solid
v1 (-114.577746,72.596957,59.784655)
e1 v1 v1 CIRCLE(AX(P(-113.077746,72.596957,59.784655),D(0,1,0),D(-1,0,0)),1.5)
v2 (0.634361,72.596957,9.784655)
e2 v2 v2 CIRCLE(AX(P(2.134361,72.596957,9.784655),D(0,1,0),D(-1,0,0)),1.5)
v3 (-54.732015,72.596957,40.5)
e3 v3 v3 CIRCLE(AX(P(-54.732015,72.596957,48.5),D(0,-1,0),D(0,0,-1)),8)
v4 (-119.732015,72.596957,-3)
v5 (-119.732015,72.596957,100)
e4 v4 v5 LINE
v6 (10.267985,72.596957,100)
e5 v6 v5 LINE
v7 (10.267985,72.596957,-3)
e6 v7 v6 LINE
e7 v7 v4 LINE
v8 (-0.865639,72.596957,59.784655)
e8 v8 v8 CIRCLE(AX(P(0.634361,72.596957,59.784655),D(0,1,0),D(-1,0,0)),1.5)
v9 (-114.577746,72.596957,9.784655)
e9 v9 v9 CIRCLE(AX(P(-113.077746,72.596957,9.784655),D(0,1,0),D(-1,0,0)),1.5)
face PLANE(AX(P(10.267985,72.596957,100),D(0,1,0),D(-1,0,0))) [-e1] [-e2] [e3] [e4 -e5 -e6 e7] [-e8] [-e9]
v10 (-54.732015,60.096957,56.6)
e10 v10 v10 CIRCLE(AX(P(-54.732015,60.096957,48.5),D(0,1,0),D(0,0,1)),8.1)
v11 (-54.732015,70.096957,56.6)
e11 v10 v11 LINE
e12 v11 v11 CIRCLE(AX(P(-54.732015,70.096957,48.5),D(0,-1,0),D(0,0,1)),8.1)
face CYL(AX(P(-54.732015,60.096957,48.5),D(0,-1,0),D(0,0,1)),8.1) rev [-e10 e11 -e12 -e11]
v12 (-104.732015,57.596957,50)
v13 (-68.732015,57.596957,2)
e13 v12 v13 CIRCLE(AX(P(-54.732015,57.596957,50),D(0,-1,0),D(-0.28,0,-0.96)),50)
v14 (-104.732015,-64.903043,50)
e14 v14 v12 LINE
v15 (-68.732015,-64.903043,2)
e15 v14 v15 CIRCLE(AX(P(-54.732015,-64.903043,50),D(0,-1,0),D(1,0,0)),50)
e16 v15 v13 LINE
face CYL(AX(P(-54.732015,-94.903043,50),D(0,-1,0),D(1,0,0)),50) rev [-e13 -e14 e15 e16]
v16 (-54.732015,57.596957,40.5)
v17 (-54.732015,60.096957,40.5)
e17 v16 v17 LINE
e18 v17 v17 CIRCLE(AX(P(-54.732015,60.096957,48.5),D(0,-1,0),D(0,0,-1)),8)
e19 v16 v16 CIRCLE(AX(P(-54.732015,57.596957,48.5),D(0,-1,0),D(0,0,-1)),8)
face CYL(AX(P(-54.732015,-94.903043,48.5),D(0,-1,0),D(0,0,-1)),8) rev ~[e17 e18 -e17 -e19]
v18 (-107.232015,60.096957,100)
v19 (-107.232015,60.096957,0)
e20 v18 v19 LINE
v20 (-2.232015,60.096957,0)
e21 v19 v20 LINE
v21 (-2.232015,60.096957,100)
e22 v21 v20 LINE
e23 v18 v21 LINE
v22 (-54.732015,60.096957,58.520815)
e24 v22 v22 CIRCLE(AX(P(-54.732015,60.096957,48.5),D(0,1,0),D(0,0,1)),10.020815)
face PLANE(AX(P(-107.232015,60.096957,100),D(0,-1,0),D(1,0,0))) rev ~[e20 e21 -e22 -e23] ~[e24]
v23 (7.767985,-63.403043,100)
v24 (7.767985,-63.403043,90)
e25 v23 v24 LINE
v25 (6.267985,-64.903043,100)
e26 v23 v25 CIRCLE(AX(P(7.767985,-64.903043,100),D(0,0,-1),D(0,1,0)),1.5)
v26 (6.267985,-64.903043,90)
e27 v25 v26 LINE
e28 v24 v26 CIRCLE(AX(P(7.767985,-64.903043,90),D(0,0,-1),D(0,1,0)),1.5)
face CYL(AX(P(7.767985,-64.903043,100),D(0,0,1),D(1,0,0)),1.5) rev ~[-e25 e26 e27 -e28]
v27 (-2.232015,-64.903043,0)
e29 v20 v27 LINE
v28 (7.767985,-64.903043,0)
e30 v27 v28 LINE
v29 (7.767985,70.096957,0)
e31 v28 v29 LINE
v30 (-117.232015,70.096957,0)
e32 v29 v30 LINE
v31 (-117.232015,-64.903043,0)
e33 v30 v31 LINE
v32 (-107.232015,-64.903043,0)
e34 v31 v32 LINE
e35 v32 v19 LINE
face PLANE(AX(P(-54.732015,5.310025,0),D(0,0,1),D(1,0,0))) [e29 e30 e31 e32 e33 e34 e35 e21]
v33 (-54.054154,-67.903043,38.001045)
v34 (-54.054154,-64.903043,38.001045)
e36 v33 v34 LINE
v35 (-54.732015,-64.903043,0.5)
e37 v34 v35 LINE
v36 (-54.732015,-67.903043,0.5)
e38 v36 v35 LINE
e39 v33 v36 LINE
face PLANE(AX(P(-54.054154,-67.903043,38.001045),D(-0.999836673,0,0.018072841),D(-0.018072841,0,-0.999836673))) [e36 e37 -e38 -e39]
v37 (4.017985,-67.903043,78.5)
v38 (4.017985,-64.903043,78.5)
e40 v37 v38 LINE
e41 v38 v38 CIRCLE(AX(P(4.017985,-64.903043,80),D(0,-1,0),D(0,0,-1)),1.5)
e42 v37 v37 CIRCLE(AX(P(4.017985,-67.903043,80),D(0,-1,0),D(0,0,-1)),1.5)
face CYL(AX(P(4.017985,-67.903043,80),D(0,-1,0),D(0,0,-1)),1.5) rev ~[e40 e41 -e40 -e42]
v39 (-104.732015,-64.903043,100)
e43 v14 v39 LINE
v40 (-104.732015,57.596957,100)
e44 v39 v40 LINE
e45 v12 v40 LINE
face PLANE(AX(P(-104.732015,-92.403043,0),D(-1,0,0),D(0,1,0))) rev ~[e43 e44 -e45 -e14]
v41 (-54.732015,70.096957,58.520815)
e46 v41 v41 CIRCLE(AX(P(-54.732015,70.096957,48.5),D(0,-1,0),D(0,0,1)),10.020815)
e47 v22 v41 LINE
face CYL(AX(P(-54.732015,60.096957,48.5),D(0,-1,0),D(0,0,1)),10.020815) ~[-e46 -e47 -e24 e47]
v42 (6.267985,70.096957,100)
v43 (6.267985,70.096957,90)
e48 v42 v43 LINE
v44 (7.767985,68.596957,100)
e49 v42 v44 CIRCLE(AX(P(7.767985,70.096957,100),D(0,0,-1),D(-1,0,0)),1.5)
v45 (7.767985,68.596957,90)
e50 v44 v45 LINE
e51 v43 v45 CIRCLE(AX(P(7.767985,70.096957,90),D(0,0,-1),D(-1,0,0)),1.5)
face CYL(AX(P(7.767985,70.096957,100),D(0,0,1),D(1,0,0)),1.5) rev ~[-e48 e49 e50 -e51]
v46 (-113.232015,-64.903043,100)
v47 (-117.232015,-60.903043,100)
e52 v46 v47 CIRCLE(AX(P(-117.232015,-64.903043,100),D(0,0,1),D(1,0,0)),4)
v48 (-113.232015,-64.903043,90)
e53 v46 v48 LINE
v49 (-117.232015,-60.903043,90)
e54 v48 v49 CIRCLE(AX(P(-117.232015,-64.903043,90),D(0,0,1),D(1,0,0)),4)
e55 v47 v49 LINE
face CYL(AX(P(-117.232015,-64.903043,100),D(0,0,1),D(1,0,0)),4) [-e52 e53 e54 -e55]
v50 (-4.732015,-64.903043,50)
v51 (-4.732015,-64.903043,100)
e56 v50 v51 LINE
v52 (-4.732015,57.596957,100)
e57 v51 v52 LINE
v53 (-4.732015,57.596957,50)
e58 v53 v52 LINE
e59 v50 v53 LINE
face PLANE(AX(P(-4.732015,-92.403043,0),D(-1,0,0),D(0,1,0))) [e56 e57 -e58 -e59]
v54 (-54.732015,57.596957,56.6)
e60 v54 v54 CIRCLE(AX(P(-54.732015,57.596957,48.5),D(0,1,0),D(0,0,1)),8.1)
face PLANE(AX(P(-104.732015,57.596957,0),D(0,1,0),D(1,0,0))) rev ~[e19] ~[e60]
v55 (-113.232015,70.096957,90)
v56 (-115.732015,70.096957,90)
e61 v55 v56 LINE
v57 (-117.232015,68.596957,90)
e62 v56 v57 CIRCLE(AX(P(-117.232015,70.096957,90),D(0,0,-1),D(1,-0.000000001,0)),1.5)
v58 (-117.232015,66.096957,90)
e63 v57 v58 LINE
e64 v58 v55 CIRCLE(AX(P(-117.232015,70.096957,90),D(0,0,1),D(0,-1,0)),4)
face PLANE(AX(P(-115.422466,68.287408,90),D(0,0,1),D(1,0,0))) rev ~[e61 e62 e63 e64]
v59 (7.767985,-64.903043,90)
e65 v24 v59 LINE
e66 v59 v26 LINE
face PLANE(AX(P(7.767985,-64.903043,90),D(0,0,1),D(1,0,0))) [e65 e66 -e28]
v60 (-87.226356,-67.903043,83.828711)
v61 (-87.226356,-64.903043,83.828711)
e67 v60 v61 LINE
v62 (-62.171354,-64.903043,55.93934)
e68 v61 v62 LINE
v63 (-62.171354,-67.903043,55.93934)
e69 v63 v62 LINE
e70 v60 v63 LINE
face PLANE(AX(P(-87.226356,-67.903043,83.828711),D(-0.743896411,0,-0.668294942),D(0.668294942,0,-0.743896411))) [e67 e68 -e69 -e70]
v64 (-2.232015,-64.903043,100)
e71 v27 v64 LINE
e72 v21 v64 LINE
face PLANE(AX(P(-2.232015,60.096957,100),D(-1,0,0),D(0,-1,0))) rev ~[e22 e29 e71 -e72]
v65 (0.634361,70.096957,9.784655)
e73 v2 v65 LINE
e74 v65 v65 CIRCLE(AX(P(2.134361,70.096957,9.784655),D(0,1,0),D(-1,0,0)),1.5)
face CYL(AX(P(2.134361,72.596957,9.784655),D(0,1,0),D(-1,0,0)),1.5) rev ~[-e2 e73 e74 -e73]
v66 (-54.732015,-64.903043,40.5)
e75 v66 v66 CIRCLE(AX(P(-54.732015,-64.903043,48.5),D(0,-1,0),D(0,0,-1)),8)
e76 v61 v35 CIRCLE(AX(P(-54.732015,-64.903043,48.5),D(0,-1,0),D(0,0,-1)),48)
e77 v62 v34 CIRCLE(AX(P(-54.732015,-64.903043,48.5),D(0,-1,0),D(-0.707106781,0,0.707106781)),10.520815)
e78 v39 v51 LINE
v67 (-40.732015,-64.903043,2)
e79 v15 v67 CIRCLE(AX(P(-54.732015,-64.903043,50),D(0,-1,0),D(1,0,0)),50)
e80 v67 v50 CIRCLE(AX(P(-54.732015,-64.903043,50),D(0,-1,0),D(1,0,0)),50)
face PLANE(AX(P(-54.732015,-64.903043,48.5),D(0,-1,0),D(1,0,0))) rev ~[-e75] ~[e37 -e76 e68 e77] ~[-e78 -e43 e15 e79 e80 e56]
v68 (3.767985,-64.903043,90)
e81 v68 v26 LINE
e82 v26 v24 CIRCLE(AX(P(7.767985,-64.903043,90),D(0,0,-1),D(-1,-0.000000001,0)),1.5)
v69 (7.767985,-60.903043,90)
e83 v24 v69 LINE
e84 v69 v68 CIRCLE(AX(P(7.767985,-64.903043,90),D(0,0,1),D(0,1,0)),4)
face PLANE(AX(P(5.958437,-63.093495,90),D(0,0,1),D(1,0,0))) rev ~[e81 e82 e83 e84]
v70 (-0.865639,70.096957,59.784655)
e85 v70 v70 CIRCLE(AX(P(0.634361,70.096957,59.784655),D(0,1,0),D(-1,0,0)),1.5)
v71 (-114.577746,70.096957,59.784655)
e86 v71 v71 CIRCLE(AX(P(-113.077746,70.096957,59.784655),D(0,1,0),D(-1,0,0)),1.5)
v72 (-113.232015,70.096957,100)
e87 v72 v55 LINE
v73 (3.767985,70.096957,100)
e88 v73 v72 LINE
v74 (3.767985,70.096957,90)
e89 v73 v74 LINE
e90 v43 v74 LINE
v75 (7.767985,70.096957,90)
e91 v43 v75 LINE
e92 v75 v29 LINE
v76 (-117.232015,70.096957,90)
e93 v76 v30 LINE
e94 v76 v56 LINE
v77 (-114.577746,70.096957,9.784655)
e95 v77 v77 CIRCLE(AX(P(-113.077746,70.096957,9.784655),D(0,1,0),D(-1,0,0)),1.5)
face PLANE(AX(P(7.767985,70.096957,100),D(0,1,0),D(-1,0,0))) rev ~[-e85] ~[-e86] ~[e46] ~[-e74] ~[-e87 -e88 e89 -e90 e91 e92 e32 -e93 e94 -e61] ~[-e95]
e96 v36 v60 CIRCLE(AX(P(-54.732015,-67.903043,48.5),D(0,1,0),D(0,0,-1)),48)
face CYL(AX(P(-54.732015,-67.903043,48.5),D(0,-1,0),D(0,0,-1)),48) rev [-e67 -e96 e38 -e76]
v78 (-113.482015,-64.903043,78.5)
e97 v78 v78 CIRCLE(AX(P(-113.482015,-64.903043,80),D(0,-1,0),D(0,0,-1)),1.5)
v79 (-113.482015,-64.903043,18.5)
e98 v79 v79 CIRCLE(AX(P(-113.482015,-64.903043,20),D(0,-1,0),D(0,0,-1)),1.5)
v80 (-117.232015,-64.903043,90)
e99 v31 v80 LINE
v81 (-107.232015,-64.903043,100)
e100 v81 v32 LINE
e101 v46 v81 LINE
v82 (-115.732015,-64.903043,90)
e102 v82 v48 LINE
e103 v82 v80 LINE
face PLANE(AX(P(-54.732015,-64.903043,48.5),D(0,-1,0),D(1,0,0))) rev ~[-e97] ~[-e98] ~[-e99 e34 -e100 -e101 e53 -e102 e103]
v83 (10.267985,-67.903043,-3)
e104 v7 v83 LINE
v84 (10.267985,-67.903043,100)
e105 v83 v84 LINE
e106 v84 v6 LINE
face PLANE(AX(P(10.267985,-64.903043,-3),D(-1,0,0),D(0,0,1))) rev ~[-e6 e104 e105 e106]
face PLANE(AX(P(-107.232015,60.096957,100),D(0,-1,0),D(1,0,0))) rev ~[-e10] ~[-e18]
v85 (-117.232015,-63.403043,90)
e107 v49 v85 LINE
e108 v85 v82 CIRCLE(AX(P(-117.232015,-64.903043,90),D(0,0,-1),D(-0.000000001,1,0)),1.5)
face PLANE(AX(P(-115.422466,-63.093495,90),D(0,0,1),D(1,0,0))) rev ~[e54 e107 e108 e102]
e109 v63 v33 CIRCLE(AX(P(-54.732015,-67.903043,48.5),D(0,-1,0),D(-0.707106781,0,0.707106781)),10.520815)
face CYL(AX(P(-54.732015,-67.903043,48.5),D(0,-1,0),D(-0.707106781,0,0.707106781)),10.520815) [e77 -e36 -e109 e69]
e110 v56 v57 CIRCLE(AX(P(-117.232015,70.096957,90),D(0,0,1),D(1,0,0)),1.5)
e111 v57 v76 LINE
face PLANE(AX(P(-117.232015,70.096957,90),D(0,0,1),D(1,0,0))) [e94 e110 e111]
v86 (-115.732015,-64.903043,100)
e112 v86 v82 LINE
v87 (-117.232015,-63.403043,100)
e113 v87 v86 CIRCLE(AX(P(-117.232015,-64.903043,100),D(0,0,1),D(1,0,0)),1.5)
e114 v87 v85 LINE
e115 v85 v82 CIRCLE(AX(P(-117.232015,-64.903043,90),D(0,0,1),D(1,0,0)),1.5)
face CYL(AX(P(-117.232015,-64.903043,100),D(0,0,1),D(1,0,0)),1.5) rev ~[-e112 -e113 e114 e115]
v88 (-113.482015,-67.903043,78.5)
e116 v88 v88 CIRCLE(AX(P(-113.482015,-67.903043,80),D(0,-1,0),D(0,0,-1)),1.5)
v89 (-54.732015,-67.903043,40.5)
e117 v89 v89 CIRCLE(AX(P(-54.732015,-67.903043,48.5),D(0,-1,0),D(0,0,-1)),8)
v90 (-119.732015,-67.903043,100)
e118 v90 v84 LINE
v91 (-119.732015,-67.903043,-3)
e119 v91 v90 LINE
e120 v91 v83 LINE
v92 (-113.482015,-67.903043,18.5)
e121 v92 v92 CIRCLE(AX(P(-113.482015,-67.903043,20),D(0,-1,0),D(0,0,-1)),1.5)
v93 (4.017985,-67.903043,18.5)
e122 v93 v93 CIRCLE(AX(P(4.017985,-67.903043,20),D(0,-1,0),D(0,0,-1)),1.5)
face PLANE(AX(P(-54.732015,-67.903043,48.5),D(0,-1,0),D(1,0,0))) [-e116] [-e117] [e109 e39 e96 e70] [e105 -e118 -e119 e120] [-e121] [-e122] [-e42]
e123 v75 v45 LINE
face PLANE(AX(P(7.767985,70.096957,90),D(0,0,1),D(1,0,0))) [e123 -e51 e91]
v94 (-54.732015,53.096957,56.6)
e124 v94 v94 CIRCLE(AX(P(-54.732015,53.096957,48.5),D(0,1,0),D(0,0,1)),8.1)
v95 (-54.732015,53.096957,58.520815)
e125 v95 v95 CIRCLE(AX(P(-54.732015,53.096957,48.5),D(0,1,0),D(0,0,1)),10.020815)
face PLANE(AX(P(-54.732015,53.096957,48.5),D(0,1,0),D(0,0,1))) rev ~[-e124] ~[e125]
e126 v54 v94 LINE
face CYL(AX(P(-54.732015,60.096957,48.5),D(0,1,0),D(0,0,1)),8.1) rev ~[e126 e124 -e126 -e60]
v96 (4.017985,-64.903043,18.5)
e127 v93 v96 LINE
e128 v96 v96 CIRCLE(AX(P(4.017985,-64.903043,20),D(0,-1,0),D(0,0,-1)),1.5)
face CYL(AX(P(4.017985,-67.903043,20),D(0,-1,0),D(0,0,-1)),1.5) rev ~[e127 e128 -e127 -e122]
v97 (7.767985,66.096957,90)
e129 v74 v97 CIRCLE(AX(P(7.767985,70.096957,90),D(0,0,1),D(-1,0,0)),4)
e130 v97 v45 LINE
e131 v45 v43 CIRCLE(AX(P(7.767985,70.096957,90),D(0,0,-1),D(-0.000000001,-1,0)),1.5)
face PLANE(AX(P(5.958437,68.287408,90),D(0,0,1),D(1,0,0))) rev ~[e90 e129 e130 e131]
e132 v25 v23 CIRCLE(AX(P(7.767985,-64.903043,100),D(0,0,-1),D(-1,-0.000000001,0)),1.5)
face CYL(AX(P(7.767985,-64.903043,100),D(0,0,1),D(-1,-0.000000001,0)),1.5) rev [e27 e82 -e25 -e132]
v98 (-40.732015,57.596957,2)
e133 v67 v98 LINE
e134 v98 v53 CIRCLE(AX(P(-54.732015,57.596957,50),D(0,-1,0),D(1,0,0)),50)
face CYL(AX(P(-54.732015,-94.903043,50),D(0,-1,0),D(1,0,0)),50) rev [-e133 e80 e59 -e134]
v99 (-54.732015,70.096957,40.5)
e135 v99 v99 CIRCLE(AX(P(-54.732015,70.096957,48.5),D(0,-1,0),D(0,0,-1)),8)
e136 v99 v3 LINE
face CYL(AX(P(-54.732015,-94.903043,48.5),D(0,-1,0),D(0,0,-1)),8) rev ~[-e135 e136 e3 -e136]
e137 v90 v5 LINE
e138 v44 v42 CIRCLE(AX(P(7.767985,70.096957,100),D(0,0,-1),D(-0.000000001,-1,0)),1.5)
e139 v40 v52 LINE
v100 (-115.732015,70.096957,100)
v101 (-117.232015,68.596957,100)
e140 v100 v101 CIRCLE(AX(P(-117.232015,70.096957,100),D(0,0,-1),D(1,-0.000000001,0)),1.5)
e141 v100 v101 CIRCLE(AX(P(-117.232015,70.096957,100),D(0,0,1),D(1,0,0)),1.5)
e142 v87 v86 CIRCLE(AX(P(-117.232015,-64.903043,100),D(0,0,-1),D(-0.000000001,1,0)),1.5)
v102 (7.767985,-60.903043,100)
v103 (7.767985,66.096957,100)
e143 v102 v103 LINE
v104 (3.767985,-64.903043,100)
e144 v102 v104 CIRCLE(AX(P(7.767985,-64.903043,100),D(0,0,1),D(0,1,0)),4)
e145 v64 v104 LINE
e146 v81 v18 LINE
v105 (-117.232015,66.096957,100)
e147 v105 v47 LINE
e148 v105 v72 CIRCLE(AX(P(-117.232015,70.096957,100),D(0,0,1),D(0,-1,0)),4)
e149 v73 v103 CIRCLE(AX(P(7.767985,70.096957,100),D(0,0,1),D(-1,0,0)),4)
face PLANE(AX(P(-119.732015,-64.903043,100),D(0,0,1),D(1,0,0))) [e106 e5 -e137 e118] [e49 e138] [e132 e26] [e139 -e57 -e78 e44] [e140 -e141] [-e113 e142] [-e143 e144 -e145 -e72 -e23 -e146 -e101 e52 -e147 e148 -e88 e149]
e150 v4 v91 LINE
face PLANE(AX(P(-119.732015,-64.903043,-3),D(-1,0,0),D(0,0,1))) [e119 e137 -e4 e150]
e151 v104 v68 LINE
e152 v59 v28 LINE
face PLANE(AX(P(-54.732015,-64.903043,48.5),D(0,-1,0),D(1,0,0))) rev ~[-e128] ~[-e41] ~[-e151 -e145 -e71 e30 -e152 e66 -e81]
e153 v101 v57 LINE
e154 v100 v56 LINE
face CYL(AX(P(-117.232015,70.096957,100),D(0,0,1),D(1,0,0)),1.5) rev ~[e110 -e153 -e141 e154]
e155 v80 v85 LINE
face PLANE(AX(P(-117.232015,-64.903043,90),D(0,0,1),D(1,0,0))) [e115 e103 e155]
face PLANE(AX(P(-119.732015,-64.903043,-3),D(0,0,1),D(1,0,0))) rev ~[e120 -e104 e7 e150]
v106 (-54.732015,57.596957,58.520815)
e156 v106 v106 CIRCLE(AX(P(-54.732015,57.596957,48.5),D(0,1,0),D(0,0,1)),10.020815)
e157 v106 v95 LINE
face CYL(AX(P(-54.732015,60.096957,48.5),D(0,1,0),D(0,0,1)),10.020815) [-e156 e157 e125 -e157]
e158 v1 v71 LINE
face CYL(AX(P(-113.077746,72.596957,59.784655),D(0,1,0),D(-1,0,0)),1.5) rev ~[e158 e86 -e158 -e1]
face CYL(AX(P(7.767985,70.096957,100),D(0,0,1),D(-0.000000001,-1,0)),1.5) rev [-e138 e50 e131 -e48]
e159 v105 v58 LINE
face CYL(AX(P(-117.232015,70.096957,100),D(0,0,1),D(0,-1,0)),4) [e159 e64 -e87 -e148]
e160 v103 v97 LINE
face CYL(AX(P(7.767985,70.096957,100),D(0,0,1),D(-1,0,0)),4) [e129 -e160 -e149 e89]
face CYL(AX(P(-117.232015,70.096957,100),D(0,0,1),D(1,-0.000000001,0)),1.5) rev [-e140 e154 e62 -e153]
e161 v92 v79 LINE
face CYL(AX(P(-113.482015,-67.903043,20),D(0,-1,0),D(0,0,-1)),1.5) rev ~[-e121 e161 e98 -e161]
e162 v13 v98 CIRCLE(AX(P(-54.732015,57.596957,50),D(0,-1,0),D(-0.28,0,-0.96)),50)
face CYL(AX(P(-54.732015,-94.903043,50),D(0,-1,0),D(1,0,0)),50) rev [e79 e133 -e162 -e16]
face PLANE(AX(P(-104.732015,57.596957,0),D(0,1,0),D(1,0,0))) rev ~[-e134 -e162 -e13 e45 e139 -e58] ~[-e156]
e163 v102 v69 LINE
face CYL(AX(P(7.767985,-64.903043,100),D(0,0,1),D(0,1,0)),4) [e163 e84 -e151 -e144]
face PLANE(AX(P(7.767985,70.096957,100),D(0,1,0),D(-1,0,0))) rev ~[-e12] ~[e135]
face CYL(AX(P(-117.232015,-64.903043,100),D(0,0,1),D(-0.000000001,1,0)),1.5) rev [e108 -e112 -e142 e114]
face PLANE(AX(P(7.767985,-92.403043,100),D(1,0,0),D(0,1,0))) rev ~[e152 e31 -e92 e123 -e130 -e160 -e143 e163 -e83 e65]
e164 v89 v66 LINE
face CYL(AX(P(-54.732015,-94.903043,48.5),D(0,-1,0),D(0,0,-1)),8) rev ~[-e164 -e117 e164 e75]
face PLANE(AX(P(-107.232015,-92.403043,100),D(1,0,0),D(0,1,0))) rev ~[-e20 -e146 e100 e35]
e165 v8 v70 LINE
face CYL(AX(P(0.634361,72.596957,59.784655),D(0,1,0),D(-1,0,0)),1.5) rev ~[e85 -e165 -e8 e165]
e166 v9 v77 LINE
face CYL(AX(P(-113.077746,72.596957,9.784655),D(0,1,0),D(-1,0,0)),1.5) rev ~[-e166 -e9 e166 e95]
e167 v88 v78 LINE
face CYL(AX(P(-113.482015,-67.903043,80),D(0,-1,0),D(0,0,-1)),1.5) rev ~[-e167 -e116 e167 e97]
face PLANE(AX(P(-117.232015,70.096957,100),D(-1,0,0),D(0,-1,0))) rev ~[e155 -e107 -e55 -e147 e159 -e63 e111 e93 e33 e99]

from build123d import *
from build123d.topology import SkipClean

# Parameters (mm, degrees)
BOSS_EXTRUDE2_DEPTH              = 2
BOSS_EXTRUDE2_DEPTH_BACK         = 3
SKETCH1_W                        = 105
SKETCH1_H                        = 155
SKETCH1_5_W                      = 105
SKETCH1_5_H                      = 155
SKETCH1_5_W_2                    = 100
SKETCH1_5_H_2                    = 150
BOSS_EXTRUDE3_DEPTH              = 100
BOSS_EXTRUDE5_DEPTH              = 153
CUT_EXTRUDE1_DEPTH               = 152.5
BOSS_EXTRUDE6_DEPTH              = 2.5
SKETCH5_R                        = 8
CUT_EXTRUDE2_DEPTH               = 162.5
BOSS_EXTRUDE12_DEPTH             = 3
BOSS_EXTRUDE13_DEPTH             = 103
BOSS_EXTRUDE14_DEPTH             = 3
CUT_EXTRUDE7_DEPTH               = 3
SKETCH15_W                       = 130
SKETCH15_H                       = 103
CUT_EXTRUDE8_DEPTH               = 30
SKETCH16_W                       = 130
SKETCH16_H                       = 103
BOSS_EXTRUDE15_DEPTH             = 3
SKETCH5_2_R                      = 8
CUT_EXTRUDE9_DEPTH               = 222
SKETCH18_R                       = 1.5
CUT_EXTRUDE11_DEPTH              = 5
BOSS_EXTRUDE17_REACH             = 203.791
SKETCH19_R                       = 10.02081528
SKETCH19_R_2                     = 8.1
BOSS_EXTRUDE17_DIRECTION_2_DEPTH = 7
SKETCH21_R                       = 1.5
CUT_EXTRUDE13_DEPTH              = 4
BOSS_EXTRUDE19_DEPTH             = 10
SKETCH22_3_R                     = 1.5
CUT_EXTRUDE14_DEPTH              = 10
CUT_EXTRUDE15_DEPTH              = 10


with BuildPart() as part:
    # Sketch1 → Boss-Extrude2 (new, two sides: drawn at the far end of the back side and taken through both)
    with BuildSketch(Plane.XY.offset(-BOSS_EXTRUDE2_DEPTH_BACK)):
        with Locations((-54.732014652, -17.403043174)):
            Rectangle(SKETCH1_W, SKETCH1_H)
    extrude(amount=BOSS_EXTRUDE2_DEPTH + BOSS_EXTRUDE2_DEPTH_BACK)

    # Sketch1<5> → Boss-Extrude3 (add)
    with BuildSketch(Plane.XY):
        with Locations((-54.732014652, -17.403043174)):
            Rectangle(SKETCH1_5_W, SKETCH1_5_H)
        with Locations((-54.732014652, -17.403043174)):
            Rectangle(SKETCH1_5_W_2, SKETCH1_5_H_2, mode=Mode.SUBTRACT)
    extrude(amount=BOSS_EXTRUDE3_DEPTH)

    # Sketch4 → Boss-Extrude5 (add)
    with BuildSketch(Plane.XZ.offset(94.903043174)):
        with BuildLine():
            ThreePointArc((-4.732014652, 50), (-14.732014652, 20), (-40.732014652, 2))
            Line((-40.732014652, 2), (-4.732014652, 2))
            Line((-4.732014652, 2), (-4.732014652, 50))
        make_face()
        with BuildLine():
            ThreePointArc((-68.732014652, 2), (-94.732014652, 20), (-104.732014652, 50))
            Line((-104.732014652, 50), (-104.732014652, 2))
            Line((-104.732014652, 2), (-68.732014652, 2))
        make_face()
    extrude(amount=-BOSS_EXTRUDE5_DEPTH)

    # Sketch4<3> → Cut-Extrude1 (cut)
    with SkipClean():  # the faces are left unmerged after this step: merging them gives an invalid solid
        with BuildSketch(Plane.XZ.offset(94.903043174)):
            with BuildLine():
                Line((-40.732014652, 2), (-68.732014652, 2))
                ThreePointArc((-68.732014652, 2), (-54.732014652, 0), (-40.732014652, 2))
            make_face()
        extrude(amount=-CUT_EXTRUDE1_DEPTH, mode=Mode.SUBTRACT)

    # Sketch4<4> → Boss-Extrude6 (add)
    with BuildSketch(Plane.XZ.offset(94.903043174)):
        with BuildLine():
            Line((-40.732014652, 2), (-68.732014652, 2))
            ThreePointArc((-68.732014652, 2), (-54.732014652, 0), (-40.732014652, 2))
        make_face()
    extrude(amount=-BOSS_EXTRUDE6_DEPTH)

    # Sketch5 → Cut-Extrude2 (cut)
    with BuildSketch(Plane.XZ.offset(94.903043174)):
        with Locations(Location((-54.732014652, 48.5, 0), (0, 0, 270))):
            Circle(SKETCH5_R)
    extrude(amount=-CUT_EXTRUDE2_DEPTH, mode=Mode.SUBTRACT)

    # Sketch13 → Boss-Extrude12 (add)
    with BuildSketch(Plane.XY.offset(100)):
        Polygon((-117.232014652, 70.096956826), (7.767985348, 70.096956826), (7.767985348, -92.403043174), (-2.232014652, -92.403043174), (-2.232014652, -94.903043174), (7.767985348, -94.903043174), (10.267985348, -94.903043174), (10.267985348, 72.596956826), (-119.732014652, 72.596956826), (-119.732014652, -94.903043174), (-117.232014652, -94.903043174), (-107.232014652, -94.903043174), (-107.232014652, -92.403043174), (-117.232014652, -92.403043174), align=None)
        Polygon((7.767985348, -92.403043174), (7.767985348, 70.096956826), (-117.232014652, 70.096956826), (-117.232014652, -92.403043174), (-107.232014652, -92.403043174), (-107.232014652, 60.096956826), (-2.232014652, 60.096956826), (-2.232014652, -92.403043174), align=None)
    extrude(amount=-BOSS_EXTRUDE12_DEPTH)

    # Sketch13<4> → Boss-Extrude13 (add)
    with BuildSketch(Plane.XY.offset(100)):
        Polygon((-117.232014652, 70.096956826), (7.767985348, 70.096956826), (7.767985348, -92.403043174), (-2.232014652, -92.403043174), (-2.232014652, -94.903043174), (7.767985348, -94.903043174), (10.267985348, -94.903043174), (10.267985348, 72.596956826), (-119.732014652, 72.596956826), (-119.732014652, -94.903043174), (-117.232014652, -94.903043174), (-107.232014652, -94.903043174), (-107.232014652, -92.403043174), (-117.232014652, -92.403043174), align=None)
    extrude(amount=-BOSS_EXTRUDE13_DEPTH)

    # Sketch14 → Boss-Extrude14 (add)
    with BuildSketch(Plane(origin=(0, 0, -3), x_dir=(-1, 0, 0), z_dir=(0, 0, -1))):
        Polygon((117.232014652, -92.403043174), (107.232014652, -92.403043174), (107.232014652, 60.096956826), (2.232014652, 60.096956826), (2.232014652, -92.403043174), (-7.767985348, -92.403043174), (-7.767985348, 70.096956826), (117.232014652, 70.096956826), align=None)
    extrude(amount=-BOSS_EXTRUDE14_DEPTH)

    # Sketch13<5> → Cut-Extrude7 (cut)
    with BuildSketch(Plane.XY.offset(100)):
        Polygon((7.767985348, -92.403043174), (7.767985348, 70.096956826), (-117.232014652, 70.096956826), (-117.232014652, -92.403043174), (-107.232014652, -92.403043174), (-107.232014652, 60.096956826), (-2.232014652, 60.096956826), (-2.232014652, -92.403043174), align=None)
    extrude(amount=-CUT_EXTRUDE7_DEPTH, mode=Mode.SUBTRACT)

    # Sketch15 → Cut-Extrude8 (cut)
    with BuildSketch(Plane.XZ.offset(94.903043174)):
        with Locations((-54.732014652, 48.5)):
            Rectangle(SKETCH15_W, SKETCH15_H)
    extrude(amount=-CUT_EXTRUDE8_DEPTH, mode=Mode.SUBTRACT)

    # Sketch16 → Boss-Extrude15 (add)
    with BuildSketch(Plane.XZ.offset(64.903043174)):
        with Locations((-54.732014652, 48.5)):
            Rectangle(SKETCH16_W, SKETCH16_H)
    extrude(amount=BOSS_EXTRUDE15_DEPTH)

    # Sketch5<2> → Cut-Extrude9 (cut)
    with BuildSketch(Plane.XZ.offset(94.903043174)):
        with Locations(Location((-54.732014652, 48.5, 0), (0, 0, 270))):
            Circle(SKETCH5_2_R)
    extrude(amount=-CUT_EXTRUDE9_DEPTH, mode=Mode.SUBTRACT)

    # Sketch18 → Cut-Extrude11 (cut)
    with BuildSketch(Plane.XZ.offset(67.903043174)):
        with Locations(Location((4.017985348, 80, 0), (0, 0, 270))):
            Circle(SKETCH18_R)
        with Locations(Location((4.017985348, 20, 0), (0, 0, 270))):
            Circle(SKETCH18_R)
        with Locations(Location((-113.482014652, 20, 0), (0, 0, 270))):
            Circle(SKETCH18_R)
        with Locations(Location((-113.482014652, 80, 0), (0, 0, 270))):
            Circle(SKETCH18_R)
    extrude(amount=-CUT_EXTRUDE11_DEPTH, mode=Mode.SUBTRACT)

    # Boss-Extrude17: up to this face of the body (flat: up to its plane)
    boss_extrude17_end = Plane(part.part.faces().sort_by_distance((-118.073430919, 72.596956826, 48.5))[0])
    # Sketch19 → Boss-Extrude17 (add, up to the picked face)
    with BuildSketch(Plane(origin=(0, 60.096956826, 0), x_dir=(1, 0, 0), z_dir=(0, 1, 0)), mode=Mode.PRIVATE) as boss_extrude17_sk1:
        with Locations(Location((-54.732014652, -48.5, 0), (0, 0, 270))):
            Circle(SKETCH19_R)
        with Locations(Location((-54.732014652, -48.5, 0), (0, 0, 270))):
            Circle(SKETCH19_R_2, mode=Mode.SUBTRACT)
    boss_extrude17_tool1 = split(extrude(boss_extrude17_sk1.sketch, amount=BOSS_EXTRUDE17_REACH, mode=Mode.PRIVATE), bisect_by=boss_extrude17_end, keep=Keep.BOTH, mode=Mode.PRIVATE)
    add(boss_extrude17_tool1.solids().sort_by(Axis((-54.732015, 60.096957, 38.762616), (0, 1, 0)))[0])

    # Sketch19 → Boss-Extrude17 direction 2 (add)
    with BuildSketch(Plane(origin=(0, 60.096956826, 0), x_dir=(1, 0, 0), z_dir=(0, 1, 0))):
        with Locations(Location((-54.732014652, -48.5, 0), (0, 0, 270))):
            Circle(SKETCH19_R)
        with Locations(Location((-54.732014652, -48.5, 0), (0, 0, 270))):
            Circle(SKETCH19_R_2, mode=Mode.SUBTRACT)
    extrude(amount=-BOSS_EXTRUDE17_DIRECTION_2_DEPTH)

    # Sketch21 → Cut-Extrude13 (cut)
    with BuildSketch(Plane(origin=(0, 72.596956826, 0), x_dir=(1, 0, 0), z_dir=(0, 1, 0))):
        with Locations(Location((0.634360514, -59.784654703, 0), (0, 0, 180))):
            Circle(SKETCH21_R)
        with Locations(Location((2.134360514, -9.784654703, 0), (0, 0, 180))):
            Circle(SKETCH21_R)
        with Locations(Location((-113.07774633, -9.784654703, 0), (0, 0, 180))):
            Circle(SKETCH21_R)
        with Locations(Location((-113.07774633, -59.784654703, 0), (0, 0, 180))):
            Circle(SKETCH21_R)
    extrude(amount=-CUT_EXTRUDE13_DEPTH, mode=Mode.SUBTRACT)

    # Sketch22 → Boss-Extrude19 (add)
    with BuildSketch(Plane.XY.offset(100)):
        with BuildLine():
            Line((-117.232014652, 68.596956826), (-117.232014652, 66.096956826))
            ThreePointArc((-117.232014652, 66.096956826), (-114.403587527, 67.268529702), (-113.232014652, 70.096956826))
            Line((-113.232014652, 70.096956826), (-115.732014652, 70.096956826))
            ThreePointArc((-115.732014652, 70.096956826), (-116.17135448, 69.036296655), (-117.232014652, 68.596956826))
        make_face()
        with BuildLine():
            Line((6.267985348, 70.096956826), (3.767985348, 70.096956826))
            ThreePointArc((3.767985348, 70.096956826), (4.939558223, 67.268529702), (7.767985348, 66.096956826))
            Line((7.767985348, 66.096956826), (7.767985348, 68.596956826))
            ThreePointArc((7.767985348, 68.596956826), (6.707325176, 69.036296655), (6.267985348, 70.096956826))
        make_face()
        with BuildLine():
            Line((7.767985348, -63.403043174), (7.767985348, -60.903043174))
            ThreePointArc((7.767985348, -60.903043174), (4.939558223, -62.074616049), (3.767985348, -64.903043174))
            Line((3.767985348, -64.903043174), (6.267985348, -64.903043174))
            ThreePointArc((6.267985348, -64.903043174), (6.707325176, -63.842383002), (7.767985348, -63.403043174))
        make_face()
        with BuildLine():
            ThreePointArc((-113.232014652, -64.903043174), (-114.403587527, -62.074616049), (-117.232014652, -60.903043174))
            Line((-117.232014652, -60.903043174), (-117.232014652, -63.403043174))
            ThreePointArc((-117.232014652, -63.403043174), (-116.17135448, -63.842383002), (-115.732014652, -64.903043174))
            Line((-115.732014652, -64.903043174), (-113.232014652, -64.903043174))
        make_face()
    extrude(amount=-BOSS_EXTRUDE19_DEPTH)

    # Sketch22<3> → Cut-Extrude14 (cut)
    with BuildSketch(Plane.XY.offset(100)):
        with Locations((7.767985348, 70.096956826)):
            Circle(SKETCH22_3_R)
        with Locations((7.767985348, -64.903043174)):
            Circle(SKETCH22_3_R)
        with Locations((-117.232014652, -64.903043174)):
            Circle(SKETCH22_3_R)
        with Locations((-117.232014652, 70.096956826)):
            Circle(SKETCH22_3_R)
    extrude(amount=-CUT_EXTRUDE14_DEPTH, mode=Mode.SUBTRACT)

    # Sketch23 → Cut-Extrude15 (cut)
    with BuildSketch(Plane.XZ.offset(67.903043174)):
        with BuildLine():
            Line((-54.054153523, 38.001044888), (-54.732014652, 0.5))
            ThreePointArc((-54.732014652, 0.5), (-99.452133799, 31.061222992), (-87.226355717, 83.828710686))
            Line((-87.226355717, 83.828710686), (-62.17135448, 55.939339828))
            ThreePointArc((-62.17135448, 55.939339828), (-64.317159664, 44.162656427), (-54.054153523, 38.001044888))
        make_face()
    extrude(amount=-CUT_EXTRUDE15_DEPTH, mode=Mode.SUBTRACT)


solid = part.part
